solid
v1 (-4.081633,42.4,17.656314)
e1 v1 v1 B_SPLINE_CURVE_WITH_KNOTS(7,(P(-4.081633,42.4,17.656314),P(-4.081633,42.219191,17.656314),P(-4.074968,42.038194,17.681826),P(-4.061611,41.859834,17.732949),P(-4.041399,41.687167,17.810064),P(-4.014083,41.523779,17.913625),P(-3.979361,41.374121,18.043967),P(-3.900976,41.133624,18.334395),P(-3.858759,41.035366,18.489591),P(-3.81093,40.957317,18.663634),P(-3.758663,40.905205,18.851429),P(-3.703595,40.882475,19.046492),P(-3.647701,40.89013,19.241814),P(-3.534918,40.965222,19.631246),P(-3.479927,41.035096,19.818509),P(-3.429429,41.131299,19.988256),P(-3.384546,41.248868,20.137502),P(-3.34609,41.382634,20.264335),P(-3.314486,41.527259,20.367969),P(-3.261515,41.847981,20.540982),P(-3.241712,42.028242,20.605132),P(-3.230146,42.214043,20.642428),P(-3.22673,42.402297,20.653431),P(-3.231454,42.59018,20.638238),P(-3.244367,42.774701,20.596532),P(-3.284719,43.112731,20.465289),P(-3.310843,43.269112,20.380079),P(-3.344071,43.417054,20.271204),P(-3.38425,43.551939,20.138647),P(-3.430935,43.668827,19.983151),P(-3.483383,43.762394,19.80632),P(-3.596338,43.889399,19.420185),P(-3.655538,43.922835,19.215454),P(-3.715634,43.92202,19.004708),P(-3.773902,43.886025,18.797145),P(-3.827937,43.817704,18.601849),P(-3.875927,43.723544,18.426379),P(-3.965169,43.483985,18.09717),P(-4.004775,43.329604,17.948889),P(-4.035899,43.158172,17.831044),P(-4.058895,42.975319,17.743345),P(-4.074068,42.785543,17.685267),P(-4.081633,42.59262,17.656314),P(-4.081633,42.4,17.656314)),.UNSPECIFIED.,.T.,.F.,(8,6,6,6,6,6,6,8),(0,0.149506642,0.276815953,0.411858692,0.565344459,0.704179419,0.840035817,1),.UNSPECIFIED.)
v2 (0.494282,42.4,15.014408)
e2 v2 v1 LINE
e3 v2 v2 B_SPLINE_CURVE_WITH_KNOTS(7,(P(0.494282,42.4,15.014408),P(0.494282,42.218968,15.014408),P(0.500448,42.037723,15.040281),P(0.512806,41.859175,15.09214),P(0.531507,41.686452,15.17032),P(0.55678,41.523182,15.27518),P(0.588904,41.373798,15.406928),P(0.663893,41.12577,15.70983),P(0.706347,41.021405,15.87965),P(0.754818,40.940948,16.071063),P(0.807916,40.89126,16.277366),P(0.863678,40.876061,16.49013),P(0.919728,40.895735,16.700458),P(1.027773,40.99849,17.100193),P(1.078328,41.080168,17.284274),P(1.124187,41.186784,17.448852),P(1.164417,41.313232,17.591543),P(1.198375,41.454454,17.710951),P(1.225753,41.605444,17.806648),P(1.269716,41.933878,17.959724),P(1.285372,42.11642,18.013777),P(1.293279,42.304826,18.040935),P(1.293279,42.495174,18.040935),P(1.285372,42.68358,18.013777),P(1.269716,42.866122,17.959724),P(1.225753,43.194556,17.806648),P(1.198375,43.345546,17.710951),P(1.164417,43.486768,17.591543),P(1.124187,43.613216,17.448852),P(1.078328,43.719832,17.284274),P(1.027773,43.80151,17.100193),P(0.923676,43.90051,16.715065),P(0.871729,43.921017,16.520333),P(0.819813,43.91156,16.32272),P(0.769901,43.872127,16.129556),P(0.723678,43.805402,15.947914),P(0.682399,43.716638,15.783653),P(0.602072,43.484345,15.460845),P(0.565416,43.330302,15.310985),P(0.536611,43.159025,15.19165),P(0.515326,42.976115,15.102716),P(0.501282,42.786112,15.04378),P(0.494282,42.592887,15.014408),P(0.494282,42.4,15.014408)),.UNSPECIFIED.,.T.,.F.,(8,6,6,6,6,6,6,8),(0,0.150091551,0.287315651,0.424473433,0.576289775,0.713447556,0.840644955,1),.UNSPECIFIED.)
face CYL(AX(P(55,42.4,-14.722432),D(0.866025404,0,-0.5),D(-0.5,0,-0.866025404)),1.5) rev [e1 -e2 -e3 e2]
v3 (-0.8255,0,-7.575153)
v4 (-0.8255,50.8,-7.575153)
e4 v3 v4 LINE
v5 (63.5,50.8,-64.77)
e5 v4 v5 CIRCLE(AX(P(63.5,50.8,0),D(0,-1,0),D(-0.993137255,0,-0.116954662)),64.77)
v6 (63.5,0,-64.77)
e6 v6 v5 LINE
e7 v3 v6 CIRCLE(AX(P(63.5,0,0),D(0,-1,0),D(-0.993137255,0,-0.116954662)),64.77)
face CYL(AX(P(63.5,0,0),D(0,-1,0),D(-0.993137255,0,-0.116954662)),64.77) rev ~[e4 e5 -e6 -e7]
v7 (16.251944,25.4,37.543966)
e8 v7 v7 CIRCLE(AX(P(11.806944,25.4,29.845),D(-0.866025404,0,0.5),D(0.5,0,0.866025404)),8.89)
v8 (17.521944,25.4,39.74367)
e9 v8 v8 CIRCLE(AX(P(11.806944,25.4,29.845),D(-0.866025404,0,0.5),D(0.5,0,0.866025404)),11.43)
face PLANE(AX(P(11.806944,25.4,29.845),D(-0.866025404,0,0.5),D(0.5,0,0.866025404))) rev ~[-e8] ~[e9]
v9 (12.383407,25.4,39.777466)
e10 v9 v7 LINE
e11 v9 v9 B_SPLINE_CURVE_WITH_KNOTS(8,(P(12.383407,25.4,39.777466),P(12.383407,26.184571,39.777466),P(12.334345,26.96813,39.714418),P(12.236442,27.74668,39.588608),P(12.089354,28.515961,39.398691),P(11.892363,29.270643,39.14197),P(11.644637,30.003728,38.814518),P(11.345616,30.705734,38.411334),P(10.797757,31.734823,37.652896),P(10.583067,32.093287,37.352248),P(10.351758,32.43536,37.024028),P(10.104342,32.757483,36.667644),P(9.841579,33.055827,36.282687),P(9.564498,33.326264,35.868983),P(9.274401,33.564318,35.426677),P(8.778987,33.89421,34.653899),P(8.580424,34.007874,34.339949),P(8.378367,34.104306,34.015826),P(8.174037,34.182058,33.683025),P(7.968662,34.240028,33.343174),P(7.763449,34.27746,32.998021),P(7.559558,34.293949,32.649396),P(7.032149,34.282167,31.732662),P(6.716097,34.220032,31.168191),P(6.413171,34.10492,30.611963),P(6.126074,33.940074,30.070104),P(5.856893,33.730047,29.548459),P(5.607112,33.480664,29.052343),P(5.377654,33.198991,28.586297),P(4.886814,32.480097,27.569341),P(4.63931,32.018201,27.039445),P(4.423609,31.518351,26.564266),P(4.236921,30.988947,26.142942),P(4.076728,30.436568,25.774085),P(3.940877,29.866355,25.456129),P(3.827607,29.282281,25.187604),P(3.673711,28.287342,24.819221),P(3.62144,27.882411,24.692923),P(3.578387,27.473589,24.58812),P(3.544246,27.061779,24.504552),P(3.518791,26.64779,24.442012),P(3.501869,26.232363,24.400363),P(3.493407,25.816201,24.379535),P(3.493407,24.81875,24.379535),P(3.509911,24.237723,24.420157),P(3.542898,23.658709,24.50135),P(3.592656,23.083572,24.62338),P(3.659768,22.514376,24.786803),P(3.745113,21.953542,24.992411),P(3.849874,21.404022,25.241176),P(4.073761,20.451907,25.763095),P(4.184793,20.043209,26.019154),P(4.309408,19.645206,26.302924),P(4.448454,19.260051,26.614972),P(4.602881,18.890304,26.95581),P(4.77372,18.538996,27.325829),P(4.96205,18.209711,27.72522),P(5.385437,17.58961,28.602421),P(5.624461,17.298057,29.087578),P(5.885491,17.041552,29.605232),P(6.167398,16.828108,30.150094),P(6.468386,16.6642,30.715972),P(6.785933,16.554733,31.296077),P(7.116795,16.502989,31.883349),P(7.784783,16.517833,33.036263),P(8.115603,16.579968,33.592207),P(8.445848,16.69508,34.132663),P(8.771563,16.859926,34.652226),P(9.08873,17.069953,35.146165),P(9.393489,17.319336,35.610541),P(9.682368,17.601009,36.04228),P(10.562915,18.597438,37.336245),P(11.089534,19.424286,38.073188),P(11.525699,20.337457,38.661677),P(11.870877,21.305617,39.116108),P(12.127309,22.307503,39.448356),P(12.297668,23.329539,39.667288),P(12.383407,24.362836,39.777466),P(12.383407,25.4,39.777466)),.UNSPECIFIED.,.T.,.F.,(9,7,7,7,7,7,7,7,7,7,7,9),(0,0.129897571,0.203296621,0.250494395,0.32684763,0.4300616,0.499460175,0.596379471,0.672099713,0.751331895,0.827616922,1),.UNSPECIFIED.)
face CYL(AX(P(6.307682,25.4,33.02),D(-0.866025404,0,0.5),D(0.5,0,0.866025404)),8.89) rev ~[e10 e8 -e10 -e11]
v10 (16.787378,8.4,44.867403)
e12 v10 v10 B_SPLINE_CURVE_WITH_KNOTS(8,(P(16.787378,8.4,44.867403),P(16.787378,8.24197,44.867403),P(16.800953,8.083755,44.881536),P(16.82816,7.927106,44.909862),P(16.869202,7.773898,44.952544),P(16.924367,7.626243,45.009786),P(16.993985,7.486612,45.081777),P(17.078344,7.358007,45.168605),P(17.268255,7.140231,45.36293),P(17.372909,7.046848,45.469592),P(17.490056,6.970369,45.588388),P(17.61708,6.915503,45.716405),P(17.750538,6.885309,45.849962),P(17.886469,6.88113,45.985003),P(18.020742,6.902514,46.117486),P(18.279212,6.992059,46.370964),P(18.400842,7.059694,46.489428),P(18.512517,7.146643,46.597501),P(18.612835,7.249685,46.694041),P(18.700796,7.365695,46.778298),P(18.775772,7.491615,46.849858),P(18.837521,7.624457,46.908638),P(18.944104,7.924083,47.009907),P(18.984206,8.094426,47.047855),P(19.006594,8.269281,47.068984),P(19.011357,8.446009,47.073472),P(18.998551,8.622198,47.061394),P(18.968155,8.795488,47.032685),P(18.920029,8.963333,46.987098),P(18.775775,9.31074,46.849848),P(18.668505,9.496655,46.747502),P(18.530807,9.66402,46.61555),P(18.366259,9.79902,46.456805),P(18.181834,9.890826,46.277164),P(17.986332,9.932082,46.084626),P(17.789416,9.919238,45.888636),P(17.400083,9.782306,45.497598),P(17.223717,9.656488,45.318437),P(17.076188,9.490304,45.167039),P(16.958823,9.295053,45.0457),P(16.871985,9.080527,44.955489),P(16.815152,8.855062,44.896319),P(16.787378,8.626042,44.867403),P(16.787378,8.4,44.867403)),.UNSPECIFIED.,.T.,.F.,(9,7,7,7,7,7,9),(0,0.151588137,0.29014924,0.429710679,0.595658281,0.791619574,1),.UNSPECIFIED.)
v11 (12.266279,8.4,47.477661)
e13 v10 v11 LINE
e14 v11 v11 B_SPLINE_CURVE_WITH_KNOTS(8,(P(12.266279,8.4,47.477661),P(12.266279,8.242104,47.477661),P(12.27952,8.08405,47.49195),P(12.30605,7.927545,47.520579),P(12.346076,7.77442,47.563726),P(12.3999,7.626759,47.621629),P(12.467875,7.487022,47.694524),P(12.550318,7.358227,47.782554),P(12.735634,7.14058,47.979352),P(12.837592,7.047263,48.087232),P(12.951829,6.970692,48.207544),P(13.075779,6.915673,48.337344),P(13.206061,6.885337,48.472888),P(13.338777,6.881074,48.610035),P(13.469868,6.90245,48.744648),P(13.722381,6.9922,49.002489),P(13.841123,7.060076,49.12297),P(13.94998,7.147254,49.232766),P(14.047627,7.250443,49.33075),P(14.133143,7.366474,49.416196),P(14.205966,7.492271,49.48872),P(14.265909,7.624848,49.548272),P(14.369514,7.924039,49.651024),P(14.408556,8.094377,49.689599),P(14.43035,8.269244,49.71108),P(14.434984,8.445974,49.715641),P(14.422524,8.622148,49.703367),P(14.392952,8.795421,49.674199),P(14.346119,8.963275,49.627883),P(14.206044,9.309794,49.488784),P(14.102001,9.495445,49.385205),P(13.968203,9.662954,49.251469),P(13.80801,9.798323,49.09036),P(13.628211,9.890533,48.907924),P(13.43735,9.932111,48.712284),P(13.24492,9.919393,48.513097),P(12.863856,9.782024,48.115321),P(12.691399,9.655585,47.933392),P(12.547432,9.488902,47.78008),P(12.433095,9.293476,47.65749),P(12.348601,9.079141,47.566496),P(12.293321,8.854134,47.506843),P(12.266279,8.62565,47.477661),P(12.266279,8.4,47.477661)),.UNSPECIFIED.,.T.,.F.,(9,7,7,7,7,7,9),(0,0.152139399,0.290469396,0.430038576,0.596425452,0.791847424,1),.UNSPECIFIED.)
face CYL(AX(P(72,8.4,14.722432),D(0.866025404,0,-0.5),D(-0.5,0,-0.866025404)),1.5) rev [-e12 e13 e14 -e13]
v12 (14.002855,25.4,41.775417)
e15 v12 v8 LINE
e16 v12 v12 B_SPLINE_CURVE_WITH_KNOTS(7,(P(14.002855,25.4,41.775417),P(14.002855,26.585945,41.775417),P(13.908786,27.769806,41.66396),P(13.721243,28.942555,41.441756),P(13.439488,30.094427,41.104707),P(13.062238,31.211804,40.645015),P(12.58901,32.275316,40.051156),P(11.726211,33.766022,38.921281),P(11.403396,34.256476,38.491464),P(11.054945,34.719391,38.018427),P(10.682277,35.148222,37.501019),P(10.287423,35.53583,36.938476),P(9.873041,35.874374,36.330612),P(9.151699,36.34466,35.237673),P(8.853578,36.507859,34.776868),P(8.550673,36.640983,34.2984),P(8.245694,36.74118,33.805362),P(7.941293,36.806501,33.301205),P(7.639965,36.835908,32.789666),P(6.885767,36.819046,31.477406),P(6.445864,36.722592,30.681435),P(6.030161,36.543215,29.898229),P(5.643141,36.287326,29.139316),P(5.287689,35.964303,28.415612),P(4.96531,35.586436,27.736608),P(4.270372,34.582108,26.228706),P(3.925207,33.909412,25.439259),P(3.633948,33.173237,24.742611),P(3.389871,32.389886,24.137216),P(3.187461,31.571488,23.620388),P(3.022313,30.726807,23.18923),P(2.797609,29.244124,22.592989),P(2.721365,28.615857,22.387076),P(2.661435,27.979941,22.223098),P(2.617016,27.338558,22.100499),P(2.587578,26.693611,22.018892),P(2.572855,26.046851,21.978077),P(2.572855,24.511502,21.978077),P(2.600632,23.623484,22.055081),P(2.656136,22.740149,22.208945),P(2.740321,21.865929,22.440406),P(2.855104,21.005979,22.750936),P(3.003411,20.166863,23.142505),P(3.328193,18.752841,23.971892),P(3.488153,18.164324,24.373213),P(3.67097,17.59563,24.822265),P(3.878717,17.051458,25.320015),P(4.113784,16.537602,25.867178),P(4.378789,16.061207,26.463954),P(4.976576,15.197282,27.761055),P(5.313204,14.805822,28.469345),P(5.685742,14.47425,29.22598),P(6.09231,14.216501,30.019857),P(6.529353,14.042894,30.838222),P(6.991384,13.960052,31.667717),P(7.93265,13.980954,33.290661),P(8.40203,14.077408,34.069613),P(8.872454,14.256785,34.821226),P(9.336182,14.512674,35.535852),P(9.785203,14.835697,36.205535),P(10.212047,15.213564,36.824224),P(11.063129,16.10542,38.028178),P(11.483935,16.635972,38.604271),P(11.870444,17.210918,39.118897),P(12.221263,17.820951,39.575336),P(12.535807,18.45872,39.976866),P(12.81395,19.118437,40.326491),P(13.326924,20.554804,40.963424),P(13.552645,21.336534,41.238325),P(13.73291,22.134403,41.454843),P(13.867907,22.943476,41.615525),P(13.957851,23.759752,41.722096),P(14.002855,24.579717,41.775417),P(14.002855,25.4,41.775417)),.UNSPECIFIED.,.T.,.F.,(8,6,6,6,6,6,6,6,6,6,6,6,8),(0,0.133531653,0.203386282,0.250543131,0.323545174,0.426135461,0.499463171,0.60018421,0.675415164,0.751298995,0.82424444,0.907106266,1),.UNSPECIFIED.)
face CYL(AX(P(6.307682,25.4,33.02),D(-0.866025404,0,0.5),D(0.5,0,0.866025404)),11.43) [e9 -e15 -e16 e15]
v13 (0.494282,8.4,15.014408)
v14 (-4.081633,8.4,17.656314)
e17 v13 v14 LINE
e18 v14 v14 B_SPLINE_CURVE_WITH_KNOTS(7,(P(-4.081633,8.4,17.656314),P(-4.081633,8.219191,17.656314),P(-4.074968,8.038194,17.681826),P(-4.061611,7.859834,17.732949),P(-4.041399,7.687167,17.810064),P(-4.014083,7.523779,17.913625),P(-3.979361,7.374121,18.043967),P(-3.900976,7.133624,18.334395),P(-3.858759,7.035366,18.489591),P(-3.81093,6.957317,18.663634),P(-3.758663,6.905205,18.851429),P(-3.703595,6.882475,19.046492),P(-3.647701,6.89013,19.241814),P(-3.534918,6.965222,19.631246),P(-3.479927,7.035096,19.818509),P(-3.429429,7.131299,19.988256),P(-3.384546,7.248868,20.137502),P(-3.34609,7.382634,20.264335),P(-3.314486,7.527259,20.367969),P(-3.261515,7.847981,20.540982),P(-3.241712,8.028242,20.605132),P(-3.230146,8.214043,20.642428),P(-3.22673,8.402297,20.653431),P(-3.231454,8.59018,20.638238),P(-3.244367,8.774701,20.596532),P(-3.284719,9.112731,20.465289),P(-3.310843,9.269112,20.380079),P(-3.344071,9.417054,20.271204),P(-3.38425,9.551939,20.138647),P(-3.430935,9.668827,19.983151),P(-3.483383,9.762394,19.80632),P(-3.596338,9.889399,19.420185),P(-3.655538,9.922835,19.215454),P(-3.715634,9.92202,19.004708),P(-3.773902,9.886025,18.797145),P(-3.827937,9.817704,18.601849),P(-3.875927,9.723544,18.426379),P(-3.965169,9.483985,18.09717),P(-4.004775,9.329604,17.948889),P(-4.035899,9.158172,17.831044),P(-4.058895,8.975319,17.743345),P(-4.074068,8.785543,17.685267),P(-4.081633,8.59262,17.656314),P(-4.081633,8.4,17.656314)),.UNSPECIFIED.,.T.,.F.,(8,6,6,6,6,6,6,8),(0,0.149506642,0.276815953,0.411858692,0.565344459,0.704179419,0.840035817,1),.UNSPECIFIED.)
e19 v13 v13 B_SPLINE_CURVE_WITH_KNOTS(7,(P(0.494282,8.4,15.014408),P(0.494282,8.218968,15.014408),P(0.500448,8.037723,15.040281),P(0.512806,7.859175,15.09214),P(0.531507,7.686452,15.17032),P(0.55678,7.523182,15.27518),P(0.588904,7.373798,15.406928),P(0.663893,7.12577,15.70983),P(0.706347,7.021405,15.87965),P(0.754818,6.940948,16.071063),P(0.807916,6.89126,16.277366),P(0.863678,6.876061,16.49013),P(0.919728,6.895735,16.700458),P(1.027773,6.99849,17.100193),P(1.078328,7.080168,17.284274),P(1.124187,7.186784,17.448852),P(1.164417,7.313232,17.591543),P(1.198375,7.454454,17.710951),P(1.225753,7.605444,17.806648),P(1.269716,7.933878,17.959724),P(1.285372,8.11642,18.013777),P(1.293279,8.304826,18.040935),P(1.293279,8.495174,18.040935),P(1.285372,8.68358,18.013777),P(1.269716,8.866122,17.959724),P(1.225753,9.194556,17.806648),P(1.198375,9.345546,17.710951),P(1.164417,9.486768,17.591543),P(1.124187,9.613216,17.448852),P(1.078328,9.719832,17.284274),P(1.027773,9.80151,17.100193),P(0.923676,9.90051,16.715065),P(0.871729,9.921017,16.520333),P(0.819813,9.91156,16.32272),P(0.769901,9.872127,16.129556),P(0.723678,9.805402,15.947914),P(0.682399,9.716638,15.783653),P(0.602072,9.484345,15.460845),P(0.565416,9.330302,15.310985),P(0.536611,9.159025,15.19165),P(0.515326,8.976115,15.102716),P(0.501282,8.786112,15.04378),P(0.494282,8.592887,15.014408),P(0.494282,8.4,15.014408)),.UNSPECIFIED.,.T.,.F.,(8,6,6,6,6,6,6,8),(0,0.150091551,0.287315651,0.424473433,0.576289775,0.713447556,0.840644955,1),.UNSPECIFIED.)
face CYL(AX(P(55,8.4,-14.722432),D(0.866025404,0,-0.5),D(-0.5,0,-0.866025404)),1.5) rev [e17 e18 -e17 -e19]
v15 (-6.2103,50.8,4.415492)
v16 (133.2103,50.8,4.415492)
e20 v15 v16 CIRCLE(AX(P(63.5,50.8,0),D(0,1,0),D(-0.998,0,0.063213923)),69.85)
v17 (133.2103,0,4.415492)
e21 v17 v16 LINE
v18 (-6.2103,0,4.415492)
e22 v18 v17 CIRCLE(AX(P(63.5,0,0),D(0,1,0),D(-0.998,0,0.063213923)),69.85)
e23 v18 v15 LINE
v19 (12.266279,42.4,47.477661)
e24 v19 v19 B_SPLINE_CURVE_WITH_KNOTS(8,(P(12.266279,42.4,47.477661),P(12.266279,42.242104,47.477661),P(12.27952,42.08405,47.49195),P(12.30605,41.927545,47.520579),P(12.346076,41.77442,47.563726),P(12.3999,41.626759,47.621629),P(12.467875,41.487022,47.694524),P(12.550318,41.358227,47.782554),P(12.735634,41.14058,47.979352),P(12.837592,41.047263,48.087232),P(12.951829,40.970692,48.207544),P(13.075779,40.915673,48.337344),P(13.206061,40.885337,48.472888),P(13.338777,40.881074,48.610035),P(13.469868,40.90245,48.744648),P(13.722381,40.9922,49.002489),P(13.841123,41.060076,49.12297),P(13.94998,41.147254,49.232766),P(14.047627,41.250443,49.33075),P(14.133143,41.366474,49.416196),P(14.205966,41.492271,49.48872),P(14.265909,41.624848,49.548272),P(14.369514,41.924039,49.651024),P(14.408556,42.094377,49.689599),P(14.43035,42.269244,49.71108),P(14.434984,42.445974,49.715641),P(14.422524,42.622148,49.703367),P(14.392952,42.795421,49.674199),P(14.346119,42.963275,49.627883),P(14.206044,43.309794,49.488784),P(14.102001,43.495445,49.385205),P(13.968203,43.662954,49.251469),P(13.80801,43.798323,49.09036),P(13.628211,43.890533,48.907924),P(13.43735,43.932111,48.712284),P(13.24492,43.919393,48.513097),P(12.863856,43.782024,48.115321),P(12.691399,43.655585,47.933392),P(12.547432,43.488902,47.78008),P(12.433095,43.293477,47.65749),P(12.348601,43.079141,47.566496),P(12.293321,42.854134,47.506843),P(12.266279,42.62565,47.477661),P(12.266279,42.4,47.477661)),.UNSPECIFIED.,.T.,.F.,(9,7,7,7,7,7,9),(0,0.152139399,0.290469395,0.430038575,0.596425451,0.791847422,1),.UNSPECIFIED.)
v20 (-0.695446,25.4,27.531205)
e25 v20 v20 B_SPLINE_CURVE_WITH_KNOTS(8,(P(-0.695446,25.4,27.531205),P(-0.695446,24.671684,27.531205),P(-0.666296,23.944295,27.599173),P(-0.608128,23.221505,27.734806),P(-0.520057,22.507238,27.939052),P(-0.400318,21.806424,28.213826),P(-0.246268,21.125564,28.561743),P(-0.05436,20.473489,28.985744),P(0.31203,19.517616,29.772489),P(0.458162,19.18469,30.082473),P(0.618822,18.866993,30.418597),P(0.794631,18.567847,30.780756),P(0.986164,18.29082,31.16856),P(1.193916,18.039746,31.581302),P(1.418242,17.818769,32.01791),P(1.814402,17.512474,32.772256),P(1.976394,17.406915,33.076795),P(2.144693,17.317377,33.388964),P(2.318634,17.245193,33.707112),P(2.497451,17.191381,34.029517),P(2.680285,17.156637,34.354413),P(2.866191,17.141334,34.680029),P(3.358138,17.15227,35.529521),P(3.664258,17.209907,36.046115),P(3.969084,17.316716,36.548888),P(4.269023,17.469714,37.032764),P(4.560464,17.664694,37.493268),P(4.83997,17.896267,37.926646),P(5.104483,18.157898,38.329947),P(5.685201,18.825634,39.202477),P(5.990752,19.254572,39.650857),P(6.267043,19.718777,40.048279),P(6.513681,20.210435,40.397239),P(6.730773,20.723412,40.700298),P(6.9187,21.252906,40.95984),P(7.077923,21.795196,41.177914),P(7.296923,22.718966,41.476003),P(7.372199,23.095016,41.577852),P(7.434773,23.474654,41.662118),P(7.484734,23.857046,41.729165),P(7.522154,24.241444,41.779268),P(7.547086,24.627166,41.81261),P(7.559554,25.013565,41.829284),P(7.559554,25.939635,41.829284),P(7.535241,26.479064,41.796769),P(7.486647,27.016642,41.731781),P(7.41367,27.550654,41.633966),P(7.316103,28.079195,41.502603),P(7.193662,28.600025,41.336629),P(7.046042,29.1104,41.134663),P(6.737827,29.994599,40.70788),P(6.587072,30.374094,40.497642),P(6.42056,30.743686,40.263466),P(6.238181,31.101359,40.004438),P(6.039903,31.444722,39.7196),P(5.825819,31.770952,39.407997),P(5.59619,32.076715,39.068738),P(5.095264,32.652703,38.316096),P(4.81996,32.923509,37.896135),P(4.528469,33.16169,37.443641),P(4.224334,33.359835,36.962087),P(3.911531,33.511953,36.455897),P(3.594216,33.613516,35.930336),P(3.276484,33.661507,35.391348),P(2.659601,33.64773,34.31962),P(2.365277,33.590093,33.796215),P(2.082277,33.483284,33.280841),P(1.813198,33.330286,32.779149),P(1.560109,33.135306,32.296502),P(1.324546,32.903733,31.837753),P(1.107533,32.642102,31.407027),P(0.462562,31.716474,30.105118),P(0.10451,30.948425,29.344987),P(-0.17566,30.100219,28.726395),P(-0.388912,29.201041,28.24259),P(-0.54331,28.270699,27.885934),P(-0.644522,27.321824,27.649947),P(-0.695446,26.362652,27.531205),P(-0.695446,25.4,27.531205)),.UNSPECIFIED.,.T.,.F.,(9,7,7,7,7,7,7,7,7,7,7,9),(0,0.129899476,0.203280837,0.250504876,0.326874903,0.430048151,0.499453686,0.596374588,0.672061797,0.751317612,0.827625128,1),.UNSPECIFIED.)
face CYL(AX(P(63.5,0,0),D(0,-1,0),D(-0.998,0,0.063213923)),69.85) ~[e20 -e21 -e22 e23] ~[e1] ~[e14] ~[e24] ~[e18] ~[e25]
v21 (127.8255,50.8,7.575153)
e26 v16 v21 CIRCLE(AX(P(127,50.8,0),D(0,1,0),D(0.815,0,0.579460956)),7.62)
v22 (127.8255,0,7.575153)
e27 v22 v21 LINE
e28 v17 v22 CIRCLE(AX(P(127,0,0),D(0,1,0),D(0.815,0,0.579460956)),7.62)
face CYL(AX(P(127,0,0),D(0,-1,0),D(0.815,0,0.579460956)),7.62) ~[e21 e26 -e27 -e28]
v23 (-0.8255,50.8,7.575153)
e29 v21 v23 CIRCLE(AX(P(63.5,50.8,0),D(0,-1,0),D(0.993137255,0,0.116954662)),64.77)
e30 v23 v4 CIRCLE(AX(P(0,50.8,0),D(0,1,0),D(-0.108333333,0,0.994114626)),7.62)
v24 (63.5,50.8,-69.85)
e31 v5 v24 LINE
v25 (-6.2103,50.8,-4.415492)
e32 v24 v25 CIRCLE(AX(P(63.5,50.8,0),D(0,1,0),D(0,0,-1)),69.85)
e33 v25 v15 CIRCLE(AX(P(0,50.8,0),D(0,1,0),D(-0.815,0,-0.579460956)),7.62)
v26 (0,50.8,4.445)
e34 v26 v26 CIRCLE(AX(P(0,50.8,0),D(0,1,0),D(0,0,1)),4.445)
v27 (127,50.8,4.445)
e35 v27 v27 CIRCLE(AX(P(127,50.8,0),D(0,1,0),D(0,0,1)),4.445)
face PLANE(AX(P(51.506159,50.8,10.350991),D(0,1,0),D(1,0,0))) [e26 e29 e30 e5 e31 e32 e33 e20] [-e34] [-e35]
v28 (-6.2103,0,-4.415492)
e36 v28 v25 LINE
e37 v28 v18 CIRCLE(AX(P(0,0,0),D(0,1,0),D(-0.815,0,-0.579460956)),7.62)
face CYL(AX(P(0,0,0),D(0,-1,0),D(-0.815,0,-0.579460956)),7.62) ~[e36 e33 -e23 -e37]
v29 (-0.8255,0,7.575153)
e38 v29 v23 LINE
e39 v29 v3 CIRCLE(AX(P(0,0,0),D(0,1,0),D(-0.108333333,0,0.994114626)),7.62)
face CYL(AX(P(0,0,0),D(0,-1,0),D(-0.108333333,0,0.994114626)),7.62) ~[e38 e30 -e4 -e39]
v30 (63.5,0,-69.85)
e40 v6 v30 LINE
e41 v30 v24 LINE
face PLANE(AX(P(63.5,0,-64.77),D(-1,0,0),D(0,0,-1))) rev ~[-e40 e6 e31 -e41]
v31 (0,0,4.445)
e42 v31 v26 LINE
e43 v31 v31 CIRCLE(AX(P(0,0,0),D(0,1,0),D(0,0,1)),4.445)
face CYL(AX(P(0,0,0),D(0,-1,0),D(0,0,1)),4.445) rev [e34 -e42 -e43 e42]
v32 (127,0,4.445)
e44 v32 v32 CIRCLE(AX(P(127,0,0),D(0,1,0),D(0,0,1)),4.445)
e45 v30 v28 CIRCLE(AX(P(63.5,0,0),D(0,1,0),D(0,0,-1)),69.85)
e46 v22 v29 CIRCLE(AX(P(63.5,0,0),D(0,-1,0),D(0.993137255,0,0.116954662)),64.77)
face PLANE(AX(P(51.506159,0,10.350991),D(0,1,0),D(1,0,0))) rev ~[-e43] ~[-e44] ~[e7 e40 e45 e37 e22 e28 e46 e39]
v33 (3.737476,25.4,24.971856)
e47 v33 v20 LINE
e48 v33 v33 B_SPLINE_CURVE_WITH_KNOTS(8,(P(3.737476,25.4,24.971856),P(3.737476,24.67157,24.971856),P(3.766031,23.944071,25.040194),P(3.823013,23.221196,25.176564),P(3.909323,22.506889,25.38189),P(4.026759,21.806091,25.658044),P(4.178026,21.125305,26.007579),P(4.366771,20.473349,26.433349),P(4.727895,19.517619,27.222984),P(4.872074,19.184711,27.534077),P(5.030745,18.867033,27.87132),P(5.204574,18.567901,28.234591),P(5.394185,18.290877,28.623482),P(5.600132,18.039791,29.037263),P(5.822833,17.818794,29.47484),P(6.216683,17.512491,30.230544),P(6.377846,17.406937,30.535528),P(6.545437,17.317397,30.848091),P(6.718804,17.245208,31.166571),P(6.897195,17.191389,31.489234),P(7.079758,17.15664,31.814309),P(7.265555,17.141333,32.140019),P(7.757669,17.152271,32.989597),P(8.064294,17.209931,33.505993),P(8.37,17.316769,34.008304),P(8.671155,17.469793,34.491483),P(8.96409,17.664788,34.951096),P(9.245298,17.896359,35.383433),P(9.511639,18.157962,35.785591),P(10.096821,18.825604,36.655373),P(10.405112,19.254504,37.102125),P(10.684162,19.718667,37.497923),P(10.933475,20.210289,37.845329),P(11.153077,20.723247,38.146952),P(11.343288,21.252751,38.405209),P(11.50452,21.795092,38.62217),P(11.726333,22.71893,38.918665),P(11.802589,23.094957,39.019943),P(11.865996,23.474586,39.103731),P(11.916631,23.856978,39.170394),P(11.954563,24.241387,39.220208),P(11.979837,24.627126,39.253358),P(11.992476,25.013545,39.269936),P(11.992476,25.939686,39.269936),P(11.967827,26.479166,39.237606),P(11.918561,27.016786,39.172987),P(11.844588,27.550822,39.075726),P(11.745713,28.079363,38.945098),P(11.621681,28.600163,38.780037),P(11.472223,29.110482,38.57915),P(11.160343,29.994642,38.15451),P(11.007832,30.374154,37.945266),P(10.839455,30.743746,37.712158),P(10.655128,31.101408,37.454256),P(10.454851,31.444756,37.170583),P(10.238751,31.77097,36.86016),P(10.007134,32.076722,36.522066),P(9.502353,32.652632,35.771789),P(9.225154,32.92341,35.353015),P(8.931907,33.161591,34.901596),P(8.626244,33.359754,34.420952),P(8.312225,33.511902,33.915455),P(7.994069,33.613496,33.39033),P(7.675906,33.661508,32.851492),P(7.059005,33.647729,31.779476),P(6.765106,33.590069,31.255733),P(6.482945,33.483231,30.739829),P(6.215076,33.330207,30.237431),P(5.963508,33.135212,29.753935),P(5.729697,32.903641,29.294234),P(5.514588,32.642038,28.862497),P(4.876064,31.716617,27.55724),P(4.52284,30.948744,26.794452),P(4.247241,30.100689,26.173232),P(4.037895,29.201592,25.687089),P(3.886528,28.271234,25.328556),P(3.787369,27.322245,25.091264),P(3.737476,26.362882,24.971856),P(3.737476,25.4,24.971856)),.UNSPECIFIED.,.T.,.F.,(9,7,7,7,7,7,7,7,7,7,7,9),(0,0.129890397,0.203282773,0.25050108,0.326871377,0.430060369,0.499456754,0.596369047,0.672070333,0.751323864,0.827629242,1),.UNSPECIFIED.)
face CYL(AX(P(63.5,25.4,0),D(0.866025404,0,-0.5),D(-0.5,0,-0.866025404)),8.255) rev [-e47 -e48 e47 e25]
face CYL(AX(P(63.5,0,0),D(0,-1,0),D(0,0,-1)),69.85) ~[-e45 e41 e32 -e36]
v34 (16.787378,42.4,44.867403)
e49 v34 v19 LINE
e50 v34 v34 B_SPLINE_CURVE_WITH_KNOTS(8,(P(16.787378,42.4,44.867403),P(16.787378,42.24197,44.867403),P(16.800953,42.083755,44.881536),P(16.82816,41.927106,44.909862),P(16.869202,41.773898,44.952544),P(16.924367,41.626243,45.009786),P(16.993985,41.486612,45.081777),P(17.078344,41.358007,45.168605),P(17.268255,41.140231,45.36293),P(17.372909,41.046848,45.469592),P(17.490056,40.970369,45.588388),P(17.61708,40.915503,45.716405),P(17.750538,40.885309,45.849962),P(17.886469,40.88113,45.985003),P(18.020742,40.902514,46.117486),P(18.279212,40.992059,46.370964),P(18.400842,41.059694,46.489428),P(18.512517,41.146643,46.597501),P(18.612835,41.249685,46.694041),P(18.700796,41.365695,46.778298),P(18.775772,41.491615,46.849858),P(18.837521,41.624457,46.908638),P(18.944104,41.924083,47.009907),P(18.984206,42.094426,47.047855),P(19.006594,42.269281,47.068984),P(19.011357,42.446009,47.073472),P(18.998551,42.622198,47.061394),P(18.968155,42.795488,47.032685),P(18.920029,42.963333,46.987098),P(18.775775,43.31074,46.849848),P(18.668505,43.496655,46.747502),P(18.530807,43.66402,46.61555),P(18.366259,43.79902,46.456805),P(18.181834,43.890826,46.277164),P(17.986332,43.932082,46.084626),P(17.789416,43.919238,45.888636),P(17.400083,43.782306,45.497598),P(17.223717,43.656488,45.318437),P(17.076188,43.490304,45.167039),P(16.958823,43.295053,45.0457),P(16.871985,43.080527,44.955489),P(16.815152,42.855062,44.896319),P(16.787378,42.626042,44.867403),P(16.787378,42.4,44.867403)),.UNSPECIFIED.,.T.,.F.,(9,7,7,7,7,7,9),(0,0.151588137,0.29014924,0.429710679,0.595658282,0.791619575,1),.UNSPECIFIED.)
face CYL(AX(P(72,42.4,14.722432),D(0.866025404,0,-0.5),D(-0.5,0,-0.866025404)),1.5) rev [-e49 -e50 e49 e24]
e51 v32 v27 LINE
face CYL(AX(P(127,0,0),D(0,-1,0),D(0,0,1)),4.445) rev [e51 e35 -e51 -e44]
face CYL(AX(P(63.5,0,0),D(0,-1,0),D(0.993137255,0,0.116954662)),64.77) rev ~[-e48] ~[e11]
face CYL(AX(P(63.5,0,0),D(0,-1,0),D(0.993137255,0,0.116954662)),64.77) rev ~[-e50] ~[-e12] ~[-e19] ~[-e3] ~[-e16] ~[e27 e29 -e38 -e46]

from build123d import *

# Parameters (mm, degrees)
SKETCH1_R           = 4.445
BOSS_EXTRUDE2_DEPTH = 50.8
SKETCH2_R           = 8.255
CUT_EXTRUDE1_DEPTH  = 141.089519336
SKETCH3_R           = 1.5
CUT_EXTRUDE2_DEPTH  = 141.089519442
SKETCH4_R           = 11.43
SKETCH4_R_2         = 8.89
BOSS_EXTRUDE3_DEPTH = 6.35


with BuildPart() as part:
    # Sketch1 → Boss-Extrude2 (new body)
    with BuildSketch(Plane(origin=(0, 0, 0), x_dir=(1, 0, 0), z_dir=(0, 1, 0))):
        with BuildLine():
            ThreePointArc((-0.8255, 7.575153447), (20.462166579, 48.403489486), (63.5, 64.77))
            Line((63.5, 64.77), (63.5, 69.85))
            ThreePointArc((63.5, 69.85), (15.695186698, 50.928600267), (-6.2103, 4.415492488))
            ThreePointArc((-6.2103, 4.415492488), (-7.62, 0), (-6.2103, -4.415492488))
            ThreePointArc((-6.2103, -4.415492488), (63.5, -69.85), (133.2103, -4.415492488))
            ThreePointArc((133.2103, -4.415492488), (123.143643591, 6.572131712), (127.8255, -7.575153447))
            ThreePointArc((127.8255, -7.575153447), (63.5, -64.77), (-0.8255, -7.575153447))
            ThreePointArc((-0.8255, -7.575153447), (7.62, 0), (-0.8255, 7.575153447))
        make_face()
        Circle(SKETCH1_R, mode=Mode.SUBTRACT)
        with Locations((127, 0)):
            Circle(SKETCH1_R, mode=Mode.SUBTRACT)
    extrude(amount=BOSS_EXTRUDE2_DEPTH)

    # Sketch2 → Cut-Extrude1 (cut, through all)
    with BuildSketch(Plane(origin=(47.625, 0, -27.49630657), x_dir=(0, -1, 0), z_dir=(-0.8660254037844398, 0, 0.499999999999998))):
        with Locations((-25.4, 31.75)):
            Circle(SKETCH2_R)
    extrude(amount=CUT_EXTRUDE1_DEPTH, mode=Mode.SUBTRACT)

    # Sketch3 → Cut-Extrude2 (cut, through all)
    with BuildSketch(Plane(origin=(47.625, 0, -27.49630657), x_dir=(0, -1, 0), z_dir=(-0.8660254037844398, 0, 0.499999999999998))):
        with Locations((-42.4, 14.75)):
            Circle(SKETCH3_R)
        with Locations((-8.4, 14.75)):
            Circle(SKETCH3_R)
        with Locations((-8.4, 48.75)):
            Circle(SKETCH3_R)
        with Locations((-42.4, 48.75)):
            Circle(SKETCH3_R)
    extrude(amount=CUT_EXTRUDE2_DEPTH, mode=Mode.SUBTRACT)

    # Sketch4 → Boss-Extrude3 (add)
    with BuildSketch(Plane(origin=(-9.567317666, 0, 5.52369343), x_dir=(0, -1, 0), z_dir=(-0.8660254037844398, 0, 0.499999999999998))):
        with Locations((-25.4, 31.75)):
            Circle(SKETCH4_R)
        with Locations((-25.4, 31.75)):
            Circle(SKETCH4_R_2, mode=Mode.SUBTRACT)
    extrude(amount=-BOSS_EXTRUDE3_DEPTH)


solid = part.part
